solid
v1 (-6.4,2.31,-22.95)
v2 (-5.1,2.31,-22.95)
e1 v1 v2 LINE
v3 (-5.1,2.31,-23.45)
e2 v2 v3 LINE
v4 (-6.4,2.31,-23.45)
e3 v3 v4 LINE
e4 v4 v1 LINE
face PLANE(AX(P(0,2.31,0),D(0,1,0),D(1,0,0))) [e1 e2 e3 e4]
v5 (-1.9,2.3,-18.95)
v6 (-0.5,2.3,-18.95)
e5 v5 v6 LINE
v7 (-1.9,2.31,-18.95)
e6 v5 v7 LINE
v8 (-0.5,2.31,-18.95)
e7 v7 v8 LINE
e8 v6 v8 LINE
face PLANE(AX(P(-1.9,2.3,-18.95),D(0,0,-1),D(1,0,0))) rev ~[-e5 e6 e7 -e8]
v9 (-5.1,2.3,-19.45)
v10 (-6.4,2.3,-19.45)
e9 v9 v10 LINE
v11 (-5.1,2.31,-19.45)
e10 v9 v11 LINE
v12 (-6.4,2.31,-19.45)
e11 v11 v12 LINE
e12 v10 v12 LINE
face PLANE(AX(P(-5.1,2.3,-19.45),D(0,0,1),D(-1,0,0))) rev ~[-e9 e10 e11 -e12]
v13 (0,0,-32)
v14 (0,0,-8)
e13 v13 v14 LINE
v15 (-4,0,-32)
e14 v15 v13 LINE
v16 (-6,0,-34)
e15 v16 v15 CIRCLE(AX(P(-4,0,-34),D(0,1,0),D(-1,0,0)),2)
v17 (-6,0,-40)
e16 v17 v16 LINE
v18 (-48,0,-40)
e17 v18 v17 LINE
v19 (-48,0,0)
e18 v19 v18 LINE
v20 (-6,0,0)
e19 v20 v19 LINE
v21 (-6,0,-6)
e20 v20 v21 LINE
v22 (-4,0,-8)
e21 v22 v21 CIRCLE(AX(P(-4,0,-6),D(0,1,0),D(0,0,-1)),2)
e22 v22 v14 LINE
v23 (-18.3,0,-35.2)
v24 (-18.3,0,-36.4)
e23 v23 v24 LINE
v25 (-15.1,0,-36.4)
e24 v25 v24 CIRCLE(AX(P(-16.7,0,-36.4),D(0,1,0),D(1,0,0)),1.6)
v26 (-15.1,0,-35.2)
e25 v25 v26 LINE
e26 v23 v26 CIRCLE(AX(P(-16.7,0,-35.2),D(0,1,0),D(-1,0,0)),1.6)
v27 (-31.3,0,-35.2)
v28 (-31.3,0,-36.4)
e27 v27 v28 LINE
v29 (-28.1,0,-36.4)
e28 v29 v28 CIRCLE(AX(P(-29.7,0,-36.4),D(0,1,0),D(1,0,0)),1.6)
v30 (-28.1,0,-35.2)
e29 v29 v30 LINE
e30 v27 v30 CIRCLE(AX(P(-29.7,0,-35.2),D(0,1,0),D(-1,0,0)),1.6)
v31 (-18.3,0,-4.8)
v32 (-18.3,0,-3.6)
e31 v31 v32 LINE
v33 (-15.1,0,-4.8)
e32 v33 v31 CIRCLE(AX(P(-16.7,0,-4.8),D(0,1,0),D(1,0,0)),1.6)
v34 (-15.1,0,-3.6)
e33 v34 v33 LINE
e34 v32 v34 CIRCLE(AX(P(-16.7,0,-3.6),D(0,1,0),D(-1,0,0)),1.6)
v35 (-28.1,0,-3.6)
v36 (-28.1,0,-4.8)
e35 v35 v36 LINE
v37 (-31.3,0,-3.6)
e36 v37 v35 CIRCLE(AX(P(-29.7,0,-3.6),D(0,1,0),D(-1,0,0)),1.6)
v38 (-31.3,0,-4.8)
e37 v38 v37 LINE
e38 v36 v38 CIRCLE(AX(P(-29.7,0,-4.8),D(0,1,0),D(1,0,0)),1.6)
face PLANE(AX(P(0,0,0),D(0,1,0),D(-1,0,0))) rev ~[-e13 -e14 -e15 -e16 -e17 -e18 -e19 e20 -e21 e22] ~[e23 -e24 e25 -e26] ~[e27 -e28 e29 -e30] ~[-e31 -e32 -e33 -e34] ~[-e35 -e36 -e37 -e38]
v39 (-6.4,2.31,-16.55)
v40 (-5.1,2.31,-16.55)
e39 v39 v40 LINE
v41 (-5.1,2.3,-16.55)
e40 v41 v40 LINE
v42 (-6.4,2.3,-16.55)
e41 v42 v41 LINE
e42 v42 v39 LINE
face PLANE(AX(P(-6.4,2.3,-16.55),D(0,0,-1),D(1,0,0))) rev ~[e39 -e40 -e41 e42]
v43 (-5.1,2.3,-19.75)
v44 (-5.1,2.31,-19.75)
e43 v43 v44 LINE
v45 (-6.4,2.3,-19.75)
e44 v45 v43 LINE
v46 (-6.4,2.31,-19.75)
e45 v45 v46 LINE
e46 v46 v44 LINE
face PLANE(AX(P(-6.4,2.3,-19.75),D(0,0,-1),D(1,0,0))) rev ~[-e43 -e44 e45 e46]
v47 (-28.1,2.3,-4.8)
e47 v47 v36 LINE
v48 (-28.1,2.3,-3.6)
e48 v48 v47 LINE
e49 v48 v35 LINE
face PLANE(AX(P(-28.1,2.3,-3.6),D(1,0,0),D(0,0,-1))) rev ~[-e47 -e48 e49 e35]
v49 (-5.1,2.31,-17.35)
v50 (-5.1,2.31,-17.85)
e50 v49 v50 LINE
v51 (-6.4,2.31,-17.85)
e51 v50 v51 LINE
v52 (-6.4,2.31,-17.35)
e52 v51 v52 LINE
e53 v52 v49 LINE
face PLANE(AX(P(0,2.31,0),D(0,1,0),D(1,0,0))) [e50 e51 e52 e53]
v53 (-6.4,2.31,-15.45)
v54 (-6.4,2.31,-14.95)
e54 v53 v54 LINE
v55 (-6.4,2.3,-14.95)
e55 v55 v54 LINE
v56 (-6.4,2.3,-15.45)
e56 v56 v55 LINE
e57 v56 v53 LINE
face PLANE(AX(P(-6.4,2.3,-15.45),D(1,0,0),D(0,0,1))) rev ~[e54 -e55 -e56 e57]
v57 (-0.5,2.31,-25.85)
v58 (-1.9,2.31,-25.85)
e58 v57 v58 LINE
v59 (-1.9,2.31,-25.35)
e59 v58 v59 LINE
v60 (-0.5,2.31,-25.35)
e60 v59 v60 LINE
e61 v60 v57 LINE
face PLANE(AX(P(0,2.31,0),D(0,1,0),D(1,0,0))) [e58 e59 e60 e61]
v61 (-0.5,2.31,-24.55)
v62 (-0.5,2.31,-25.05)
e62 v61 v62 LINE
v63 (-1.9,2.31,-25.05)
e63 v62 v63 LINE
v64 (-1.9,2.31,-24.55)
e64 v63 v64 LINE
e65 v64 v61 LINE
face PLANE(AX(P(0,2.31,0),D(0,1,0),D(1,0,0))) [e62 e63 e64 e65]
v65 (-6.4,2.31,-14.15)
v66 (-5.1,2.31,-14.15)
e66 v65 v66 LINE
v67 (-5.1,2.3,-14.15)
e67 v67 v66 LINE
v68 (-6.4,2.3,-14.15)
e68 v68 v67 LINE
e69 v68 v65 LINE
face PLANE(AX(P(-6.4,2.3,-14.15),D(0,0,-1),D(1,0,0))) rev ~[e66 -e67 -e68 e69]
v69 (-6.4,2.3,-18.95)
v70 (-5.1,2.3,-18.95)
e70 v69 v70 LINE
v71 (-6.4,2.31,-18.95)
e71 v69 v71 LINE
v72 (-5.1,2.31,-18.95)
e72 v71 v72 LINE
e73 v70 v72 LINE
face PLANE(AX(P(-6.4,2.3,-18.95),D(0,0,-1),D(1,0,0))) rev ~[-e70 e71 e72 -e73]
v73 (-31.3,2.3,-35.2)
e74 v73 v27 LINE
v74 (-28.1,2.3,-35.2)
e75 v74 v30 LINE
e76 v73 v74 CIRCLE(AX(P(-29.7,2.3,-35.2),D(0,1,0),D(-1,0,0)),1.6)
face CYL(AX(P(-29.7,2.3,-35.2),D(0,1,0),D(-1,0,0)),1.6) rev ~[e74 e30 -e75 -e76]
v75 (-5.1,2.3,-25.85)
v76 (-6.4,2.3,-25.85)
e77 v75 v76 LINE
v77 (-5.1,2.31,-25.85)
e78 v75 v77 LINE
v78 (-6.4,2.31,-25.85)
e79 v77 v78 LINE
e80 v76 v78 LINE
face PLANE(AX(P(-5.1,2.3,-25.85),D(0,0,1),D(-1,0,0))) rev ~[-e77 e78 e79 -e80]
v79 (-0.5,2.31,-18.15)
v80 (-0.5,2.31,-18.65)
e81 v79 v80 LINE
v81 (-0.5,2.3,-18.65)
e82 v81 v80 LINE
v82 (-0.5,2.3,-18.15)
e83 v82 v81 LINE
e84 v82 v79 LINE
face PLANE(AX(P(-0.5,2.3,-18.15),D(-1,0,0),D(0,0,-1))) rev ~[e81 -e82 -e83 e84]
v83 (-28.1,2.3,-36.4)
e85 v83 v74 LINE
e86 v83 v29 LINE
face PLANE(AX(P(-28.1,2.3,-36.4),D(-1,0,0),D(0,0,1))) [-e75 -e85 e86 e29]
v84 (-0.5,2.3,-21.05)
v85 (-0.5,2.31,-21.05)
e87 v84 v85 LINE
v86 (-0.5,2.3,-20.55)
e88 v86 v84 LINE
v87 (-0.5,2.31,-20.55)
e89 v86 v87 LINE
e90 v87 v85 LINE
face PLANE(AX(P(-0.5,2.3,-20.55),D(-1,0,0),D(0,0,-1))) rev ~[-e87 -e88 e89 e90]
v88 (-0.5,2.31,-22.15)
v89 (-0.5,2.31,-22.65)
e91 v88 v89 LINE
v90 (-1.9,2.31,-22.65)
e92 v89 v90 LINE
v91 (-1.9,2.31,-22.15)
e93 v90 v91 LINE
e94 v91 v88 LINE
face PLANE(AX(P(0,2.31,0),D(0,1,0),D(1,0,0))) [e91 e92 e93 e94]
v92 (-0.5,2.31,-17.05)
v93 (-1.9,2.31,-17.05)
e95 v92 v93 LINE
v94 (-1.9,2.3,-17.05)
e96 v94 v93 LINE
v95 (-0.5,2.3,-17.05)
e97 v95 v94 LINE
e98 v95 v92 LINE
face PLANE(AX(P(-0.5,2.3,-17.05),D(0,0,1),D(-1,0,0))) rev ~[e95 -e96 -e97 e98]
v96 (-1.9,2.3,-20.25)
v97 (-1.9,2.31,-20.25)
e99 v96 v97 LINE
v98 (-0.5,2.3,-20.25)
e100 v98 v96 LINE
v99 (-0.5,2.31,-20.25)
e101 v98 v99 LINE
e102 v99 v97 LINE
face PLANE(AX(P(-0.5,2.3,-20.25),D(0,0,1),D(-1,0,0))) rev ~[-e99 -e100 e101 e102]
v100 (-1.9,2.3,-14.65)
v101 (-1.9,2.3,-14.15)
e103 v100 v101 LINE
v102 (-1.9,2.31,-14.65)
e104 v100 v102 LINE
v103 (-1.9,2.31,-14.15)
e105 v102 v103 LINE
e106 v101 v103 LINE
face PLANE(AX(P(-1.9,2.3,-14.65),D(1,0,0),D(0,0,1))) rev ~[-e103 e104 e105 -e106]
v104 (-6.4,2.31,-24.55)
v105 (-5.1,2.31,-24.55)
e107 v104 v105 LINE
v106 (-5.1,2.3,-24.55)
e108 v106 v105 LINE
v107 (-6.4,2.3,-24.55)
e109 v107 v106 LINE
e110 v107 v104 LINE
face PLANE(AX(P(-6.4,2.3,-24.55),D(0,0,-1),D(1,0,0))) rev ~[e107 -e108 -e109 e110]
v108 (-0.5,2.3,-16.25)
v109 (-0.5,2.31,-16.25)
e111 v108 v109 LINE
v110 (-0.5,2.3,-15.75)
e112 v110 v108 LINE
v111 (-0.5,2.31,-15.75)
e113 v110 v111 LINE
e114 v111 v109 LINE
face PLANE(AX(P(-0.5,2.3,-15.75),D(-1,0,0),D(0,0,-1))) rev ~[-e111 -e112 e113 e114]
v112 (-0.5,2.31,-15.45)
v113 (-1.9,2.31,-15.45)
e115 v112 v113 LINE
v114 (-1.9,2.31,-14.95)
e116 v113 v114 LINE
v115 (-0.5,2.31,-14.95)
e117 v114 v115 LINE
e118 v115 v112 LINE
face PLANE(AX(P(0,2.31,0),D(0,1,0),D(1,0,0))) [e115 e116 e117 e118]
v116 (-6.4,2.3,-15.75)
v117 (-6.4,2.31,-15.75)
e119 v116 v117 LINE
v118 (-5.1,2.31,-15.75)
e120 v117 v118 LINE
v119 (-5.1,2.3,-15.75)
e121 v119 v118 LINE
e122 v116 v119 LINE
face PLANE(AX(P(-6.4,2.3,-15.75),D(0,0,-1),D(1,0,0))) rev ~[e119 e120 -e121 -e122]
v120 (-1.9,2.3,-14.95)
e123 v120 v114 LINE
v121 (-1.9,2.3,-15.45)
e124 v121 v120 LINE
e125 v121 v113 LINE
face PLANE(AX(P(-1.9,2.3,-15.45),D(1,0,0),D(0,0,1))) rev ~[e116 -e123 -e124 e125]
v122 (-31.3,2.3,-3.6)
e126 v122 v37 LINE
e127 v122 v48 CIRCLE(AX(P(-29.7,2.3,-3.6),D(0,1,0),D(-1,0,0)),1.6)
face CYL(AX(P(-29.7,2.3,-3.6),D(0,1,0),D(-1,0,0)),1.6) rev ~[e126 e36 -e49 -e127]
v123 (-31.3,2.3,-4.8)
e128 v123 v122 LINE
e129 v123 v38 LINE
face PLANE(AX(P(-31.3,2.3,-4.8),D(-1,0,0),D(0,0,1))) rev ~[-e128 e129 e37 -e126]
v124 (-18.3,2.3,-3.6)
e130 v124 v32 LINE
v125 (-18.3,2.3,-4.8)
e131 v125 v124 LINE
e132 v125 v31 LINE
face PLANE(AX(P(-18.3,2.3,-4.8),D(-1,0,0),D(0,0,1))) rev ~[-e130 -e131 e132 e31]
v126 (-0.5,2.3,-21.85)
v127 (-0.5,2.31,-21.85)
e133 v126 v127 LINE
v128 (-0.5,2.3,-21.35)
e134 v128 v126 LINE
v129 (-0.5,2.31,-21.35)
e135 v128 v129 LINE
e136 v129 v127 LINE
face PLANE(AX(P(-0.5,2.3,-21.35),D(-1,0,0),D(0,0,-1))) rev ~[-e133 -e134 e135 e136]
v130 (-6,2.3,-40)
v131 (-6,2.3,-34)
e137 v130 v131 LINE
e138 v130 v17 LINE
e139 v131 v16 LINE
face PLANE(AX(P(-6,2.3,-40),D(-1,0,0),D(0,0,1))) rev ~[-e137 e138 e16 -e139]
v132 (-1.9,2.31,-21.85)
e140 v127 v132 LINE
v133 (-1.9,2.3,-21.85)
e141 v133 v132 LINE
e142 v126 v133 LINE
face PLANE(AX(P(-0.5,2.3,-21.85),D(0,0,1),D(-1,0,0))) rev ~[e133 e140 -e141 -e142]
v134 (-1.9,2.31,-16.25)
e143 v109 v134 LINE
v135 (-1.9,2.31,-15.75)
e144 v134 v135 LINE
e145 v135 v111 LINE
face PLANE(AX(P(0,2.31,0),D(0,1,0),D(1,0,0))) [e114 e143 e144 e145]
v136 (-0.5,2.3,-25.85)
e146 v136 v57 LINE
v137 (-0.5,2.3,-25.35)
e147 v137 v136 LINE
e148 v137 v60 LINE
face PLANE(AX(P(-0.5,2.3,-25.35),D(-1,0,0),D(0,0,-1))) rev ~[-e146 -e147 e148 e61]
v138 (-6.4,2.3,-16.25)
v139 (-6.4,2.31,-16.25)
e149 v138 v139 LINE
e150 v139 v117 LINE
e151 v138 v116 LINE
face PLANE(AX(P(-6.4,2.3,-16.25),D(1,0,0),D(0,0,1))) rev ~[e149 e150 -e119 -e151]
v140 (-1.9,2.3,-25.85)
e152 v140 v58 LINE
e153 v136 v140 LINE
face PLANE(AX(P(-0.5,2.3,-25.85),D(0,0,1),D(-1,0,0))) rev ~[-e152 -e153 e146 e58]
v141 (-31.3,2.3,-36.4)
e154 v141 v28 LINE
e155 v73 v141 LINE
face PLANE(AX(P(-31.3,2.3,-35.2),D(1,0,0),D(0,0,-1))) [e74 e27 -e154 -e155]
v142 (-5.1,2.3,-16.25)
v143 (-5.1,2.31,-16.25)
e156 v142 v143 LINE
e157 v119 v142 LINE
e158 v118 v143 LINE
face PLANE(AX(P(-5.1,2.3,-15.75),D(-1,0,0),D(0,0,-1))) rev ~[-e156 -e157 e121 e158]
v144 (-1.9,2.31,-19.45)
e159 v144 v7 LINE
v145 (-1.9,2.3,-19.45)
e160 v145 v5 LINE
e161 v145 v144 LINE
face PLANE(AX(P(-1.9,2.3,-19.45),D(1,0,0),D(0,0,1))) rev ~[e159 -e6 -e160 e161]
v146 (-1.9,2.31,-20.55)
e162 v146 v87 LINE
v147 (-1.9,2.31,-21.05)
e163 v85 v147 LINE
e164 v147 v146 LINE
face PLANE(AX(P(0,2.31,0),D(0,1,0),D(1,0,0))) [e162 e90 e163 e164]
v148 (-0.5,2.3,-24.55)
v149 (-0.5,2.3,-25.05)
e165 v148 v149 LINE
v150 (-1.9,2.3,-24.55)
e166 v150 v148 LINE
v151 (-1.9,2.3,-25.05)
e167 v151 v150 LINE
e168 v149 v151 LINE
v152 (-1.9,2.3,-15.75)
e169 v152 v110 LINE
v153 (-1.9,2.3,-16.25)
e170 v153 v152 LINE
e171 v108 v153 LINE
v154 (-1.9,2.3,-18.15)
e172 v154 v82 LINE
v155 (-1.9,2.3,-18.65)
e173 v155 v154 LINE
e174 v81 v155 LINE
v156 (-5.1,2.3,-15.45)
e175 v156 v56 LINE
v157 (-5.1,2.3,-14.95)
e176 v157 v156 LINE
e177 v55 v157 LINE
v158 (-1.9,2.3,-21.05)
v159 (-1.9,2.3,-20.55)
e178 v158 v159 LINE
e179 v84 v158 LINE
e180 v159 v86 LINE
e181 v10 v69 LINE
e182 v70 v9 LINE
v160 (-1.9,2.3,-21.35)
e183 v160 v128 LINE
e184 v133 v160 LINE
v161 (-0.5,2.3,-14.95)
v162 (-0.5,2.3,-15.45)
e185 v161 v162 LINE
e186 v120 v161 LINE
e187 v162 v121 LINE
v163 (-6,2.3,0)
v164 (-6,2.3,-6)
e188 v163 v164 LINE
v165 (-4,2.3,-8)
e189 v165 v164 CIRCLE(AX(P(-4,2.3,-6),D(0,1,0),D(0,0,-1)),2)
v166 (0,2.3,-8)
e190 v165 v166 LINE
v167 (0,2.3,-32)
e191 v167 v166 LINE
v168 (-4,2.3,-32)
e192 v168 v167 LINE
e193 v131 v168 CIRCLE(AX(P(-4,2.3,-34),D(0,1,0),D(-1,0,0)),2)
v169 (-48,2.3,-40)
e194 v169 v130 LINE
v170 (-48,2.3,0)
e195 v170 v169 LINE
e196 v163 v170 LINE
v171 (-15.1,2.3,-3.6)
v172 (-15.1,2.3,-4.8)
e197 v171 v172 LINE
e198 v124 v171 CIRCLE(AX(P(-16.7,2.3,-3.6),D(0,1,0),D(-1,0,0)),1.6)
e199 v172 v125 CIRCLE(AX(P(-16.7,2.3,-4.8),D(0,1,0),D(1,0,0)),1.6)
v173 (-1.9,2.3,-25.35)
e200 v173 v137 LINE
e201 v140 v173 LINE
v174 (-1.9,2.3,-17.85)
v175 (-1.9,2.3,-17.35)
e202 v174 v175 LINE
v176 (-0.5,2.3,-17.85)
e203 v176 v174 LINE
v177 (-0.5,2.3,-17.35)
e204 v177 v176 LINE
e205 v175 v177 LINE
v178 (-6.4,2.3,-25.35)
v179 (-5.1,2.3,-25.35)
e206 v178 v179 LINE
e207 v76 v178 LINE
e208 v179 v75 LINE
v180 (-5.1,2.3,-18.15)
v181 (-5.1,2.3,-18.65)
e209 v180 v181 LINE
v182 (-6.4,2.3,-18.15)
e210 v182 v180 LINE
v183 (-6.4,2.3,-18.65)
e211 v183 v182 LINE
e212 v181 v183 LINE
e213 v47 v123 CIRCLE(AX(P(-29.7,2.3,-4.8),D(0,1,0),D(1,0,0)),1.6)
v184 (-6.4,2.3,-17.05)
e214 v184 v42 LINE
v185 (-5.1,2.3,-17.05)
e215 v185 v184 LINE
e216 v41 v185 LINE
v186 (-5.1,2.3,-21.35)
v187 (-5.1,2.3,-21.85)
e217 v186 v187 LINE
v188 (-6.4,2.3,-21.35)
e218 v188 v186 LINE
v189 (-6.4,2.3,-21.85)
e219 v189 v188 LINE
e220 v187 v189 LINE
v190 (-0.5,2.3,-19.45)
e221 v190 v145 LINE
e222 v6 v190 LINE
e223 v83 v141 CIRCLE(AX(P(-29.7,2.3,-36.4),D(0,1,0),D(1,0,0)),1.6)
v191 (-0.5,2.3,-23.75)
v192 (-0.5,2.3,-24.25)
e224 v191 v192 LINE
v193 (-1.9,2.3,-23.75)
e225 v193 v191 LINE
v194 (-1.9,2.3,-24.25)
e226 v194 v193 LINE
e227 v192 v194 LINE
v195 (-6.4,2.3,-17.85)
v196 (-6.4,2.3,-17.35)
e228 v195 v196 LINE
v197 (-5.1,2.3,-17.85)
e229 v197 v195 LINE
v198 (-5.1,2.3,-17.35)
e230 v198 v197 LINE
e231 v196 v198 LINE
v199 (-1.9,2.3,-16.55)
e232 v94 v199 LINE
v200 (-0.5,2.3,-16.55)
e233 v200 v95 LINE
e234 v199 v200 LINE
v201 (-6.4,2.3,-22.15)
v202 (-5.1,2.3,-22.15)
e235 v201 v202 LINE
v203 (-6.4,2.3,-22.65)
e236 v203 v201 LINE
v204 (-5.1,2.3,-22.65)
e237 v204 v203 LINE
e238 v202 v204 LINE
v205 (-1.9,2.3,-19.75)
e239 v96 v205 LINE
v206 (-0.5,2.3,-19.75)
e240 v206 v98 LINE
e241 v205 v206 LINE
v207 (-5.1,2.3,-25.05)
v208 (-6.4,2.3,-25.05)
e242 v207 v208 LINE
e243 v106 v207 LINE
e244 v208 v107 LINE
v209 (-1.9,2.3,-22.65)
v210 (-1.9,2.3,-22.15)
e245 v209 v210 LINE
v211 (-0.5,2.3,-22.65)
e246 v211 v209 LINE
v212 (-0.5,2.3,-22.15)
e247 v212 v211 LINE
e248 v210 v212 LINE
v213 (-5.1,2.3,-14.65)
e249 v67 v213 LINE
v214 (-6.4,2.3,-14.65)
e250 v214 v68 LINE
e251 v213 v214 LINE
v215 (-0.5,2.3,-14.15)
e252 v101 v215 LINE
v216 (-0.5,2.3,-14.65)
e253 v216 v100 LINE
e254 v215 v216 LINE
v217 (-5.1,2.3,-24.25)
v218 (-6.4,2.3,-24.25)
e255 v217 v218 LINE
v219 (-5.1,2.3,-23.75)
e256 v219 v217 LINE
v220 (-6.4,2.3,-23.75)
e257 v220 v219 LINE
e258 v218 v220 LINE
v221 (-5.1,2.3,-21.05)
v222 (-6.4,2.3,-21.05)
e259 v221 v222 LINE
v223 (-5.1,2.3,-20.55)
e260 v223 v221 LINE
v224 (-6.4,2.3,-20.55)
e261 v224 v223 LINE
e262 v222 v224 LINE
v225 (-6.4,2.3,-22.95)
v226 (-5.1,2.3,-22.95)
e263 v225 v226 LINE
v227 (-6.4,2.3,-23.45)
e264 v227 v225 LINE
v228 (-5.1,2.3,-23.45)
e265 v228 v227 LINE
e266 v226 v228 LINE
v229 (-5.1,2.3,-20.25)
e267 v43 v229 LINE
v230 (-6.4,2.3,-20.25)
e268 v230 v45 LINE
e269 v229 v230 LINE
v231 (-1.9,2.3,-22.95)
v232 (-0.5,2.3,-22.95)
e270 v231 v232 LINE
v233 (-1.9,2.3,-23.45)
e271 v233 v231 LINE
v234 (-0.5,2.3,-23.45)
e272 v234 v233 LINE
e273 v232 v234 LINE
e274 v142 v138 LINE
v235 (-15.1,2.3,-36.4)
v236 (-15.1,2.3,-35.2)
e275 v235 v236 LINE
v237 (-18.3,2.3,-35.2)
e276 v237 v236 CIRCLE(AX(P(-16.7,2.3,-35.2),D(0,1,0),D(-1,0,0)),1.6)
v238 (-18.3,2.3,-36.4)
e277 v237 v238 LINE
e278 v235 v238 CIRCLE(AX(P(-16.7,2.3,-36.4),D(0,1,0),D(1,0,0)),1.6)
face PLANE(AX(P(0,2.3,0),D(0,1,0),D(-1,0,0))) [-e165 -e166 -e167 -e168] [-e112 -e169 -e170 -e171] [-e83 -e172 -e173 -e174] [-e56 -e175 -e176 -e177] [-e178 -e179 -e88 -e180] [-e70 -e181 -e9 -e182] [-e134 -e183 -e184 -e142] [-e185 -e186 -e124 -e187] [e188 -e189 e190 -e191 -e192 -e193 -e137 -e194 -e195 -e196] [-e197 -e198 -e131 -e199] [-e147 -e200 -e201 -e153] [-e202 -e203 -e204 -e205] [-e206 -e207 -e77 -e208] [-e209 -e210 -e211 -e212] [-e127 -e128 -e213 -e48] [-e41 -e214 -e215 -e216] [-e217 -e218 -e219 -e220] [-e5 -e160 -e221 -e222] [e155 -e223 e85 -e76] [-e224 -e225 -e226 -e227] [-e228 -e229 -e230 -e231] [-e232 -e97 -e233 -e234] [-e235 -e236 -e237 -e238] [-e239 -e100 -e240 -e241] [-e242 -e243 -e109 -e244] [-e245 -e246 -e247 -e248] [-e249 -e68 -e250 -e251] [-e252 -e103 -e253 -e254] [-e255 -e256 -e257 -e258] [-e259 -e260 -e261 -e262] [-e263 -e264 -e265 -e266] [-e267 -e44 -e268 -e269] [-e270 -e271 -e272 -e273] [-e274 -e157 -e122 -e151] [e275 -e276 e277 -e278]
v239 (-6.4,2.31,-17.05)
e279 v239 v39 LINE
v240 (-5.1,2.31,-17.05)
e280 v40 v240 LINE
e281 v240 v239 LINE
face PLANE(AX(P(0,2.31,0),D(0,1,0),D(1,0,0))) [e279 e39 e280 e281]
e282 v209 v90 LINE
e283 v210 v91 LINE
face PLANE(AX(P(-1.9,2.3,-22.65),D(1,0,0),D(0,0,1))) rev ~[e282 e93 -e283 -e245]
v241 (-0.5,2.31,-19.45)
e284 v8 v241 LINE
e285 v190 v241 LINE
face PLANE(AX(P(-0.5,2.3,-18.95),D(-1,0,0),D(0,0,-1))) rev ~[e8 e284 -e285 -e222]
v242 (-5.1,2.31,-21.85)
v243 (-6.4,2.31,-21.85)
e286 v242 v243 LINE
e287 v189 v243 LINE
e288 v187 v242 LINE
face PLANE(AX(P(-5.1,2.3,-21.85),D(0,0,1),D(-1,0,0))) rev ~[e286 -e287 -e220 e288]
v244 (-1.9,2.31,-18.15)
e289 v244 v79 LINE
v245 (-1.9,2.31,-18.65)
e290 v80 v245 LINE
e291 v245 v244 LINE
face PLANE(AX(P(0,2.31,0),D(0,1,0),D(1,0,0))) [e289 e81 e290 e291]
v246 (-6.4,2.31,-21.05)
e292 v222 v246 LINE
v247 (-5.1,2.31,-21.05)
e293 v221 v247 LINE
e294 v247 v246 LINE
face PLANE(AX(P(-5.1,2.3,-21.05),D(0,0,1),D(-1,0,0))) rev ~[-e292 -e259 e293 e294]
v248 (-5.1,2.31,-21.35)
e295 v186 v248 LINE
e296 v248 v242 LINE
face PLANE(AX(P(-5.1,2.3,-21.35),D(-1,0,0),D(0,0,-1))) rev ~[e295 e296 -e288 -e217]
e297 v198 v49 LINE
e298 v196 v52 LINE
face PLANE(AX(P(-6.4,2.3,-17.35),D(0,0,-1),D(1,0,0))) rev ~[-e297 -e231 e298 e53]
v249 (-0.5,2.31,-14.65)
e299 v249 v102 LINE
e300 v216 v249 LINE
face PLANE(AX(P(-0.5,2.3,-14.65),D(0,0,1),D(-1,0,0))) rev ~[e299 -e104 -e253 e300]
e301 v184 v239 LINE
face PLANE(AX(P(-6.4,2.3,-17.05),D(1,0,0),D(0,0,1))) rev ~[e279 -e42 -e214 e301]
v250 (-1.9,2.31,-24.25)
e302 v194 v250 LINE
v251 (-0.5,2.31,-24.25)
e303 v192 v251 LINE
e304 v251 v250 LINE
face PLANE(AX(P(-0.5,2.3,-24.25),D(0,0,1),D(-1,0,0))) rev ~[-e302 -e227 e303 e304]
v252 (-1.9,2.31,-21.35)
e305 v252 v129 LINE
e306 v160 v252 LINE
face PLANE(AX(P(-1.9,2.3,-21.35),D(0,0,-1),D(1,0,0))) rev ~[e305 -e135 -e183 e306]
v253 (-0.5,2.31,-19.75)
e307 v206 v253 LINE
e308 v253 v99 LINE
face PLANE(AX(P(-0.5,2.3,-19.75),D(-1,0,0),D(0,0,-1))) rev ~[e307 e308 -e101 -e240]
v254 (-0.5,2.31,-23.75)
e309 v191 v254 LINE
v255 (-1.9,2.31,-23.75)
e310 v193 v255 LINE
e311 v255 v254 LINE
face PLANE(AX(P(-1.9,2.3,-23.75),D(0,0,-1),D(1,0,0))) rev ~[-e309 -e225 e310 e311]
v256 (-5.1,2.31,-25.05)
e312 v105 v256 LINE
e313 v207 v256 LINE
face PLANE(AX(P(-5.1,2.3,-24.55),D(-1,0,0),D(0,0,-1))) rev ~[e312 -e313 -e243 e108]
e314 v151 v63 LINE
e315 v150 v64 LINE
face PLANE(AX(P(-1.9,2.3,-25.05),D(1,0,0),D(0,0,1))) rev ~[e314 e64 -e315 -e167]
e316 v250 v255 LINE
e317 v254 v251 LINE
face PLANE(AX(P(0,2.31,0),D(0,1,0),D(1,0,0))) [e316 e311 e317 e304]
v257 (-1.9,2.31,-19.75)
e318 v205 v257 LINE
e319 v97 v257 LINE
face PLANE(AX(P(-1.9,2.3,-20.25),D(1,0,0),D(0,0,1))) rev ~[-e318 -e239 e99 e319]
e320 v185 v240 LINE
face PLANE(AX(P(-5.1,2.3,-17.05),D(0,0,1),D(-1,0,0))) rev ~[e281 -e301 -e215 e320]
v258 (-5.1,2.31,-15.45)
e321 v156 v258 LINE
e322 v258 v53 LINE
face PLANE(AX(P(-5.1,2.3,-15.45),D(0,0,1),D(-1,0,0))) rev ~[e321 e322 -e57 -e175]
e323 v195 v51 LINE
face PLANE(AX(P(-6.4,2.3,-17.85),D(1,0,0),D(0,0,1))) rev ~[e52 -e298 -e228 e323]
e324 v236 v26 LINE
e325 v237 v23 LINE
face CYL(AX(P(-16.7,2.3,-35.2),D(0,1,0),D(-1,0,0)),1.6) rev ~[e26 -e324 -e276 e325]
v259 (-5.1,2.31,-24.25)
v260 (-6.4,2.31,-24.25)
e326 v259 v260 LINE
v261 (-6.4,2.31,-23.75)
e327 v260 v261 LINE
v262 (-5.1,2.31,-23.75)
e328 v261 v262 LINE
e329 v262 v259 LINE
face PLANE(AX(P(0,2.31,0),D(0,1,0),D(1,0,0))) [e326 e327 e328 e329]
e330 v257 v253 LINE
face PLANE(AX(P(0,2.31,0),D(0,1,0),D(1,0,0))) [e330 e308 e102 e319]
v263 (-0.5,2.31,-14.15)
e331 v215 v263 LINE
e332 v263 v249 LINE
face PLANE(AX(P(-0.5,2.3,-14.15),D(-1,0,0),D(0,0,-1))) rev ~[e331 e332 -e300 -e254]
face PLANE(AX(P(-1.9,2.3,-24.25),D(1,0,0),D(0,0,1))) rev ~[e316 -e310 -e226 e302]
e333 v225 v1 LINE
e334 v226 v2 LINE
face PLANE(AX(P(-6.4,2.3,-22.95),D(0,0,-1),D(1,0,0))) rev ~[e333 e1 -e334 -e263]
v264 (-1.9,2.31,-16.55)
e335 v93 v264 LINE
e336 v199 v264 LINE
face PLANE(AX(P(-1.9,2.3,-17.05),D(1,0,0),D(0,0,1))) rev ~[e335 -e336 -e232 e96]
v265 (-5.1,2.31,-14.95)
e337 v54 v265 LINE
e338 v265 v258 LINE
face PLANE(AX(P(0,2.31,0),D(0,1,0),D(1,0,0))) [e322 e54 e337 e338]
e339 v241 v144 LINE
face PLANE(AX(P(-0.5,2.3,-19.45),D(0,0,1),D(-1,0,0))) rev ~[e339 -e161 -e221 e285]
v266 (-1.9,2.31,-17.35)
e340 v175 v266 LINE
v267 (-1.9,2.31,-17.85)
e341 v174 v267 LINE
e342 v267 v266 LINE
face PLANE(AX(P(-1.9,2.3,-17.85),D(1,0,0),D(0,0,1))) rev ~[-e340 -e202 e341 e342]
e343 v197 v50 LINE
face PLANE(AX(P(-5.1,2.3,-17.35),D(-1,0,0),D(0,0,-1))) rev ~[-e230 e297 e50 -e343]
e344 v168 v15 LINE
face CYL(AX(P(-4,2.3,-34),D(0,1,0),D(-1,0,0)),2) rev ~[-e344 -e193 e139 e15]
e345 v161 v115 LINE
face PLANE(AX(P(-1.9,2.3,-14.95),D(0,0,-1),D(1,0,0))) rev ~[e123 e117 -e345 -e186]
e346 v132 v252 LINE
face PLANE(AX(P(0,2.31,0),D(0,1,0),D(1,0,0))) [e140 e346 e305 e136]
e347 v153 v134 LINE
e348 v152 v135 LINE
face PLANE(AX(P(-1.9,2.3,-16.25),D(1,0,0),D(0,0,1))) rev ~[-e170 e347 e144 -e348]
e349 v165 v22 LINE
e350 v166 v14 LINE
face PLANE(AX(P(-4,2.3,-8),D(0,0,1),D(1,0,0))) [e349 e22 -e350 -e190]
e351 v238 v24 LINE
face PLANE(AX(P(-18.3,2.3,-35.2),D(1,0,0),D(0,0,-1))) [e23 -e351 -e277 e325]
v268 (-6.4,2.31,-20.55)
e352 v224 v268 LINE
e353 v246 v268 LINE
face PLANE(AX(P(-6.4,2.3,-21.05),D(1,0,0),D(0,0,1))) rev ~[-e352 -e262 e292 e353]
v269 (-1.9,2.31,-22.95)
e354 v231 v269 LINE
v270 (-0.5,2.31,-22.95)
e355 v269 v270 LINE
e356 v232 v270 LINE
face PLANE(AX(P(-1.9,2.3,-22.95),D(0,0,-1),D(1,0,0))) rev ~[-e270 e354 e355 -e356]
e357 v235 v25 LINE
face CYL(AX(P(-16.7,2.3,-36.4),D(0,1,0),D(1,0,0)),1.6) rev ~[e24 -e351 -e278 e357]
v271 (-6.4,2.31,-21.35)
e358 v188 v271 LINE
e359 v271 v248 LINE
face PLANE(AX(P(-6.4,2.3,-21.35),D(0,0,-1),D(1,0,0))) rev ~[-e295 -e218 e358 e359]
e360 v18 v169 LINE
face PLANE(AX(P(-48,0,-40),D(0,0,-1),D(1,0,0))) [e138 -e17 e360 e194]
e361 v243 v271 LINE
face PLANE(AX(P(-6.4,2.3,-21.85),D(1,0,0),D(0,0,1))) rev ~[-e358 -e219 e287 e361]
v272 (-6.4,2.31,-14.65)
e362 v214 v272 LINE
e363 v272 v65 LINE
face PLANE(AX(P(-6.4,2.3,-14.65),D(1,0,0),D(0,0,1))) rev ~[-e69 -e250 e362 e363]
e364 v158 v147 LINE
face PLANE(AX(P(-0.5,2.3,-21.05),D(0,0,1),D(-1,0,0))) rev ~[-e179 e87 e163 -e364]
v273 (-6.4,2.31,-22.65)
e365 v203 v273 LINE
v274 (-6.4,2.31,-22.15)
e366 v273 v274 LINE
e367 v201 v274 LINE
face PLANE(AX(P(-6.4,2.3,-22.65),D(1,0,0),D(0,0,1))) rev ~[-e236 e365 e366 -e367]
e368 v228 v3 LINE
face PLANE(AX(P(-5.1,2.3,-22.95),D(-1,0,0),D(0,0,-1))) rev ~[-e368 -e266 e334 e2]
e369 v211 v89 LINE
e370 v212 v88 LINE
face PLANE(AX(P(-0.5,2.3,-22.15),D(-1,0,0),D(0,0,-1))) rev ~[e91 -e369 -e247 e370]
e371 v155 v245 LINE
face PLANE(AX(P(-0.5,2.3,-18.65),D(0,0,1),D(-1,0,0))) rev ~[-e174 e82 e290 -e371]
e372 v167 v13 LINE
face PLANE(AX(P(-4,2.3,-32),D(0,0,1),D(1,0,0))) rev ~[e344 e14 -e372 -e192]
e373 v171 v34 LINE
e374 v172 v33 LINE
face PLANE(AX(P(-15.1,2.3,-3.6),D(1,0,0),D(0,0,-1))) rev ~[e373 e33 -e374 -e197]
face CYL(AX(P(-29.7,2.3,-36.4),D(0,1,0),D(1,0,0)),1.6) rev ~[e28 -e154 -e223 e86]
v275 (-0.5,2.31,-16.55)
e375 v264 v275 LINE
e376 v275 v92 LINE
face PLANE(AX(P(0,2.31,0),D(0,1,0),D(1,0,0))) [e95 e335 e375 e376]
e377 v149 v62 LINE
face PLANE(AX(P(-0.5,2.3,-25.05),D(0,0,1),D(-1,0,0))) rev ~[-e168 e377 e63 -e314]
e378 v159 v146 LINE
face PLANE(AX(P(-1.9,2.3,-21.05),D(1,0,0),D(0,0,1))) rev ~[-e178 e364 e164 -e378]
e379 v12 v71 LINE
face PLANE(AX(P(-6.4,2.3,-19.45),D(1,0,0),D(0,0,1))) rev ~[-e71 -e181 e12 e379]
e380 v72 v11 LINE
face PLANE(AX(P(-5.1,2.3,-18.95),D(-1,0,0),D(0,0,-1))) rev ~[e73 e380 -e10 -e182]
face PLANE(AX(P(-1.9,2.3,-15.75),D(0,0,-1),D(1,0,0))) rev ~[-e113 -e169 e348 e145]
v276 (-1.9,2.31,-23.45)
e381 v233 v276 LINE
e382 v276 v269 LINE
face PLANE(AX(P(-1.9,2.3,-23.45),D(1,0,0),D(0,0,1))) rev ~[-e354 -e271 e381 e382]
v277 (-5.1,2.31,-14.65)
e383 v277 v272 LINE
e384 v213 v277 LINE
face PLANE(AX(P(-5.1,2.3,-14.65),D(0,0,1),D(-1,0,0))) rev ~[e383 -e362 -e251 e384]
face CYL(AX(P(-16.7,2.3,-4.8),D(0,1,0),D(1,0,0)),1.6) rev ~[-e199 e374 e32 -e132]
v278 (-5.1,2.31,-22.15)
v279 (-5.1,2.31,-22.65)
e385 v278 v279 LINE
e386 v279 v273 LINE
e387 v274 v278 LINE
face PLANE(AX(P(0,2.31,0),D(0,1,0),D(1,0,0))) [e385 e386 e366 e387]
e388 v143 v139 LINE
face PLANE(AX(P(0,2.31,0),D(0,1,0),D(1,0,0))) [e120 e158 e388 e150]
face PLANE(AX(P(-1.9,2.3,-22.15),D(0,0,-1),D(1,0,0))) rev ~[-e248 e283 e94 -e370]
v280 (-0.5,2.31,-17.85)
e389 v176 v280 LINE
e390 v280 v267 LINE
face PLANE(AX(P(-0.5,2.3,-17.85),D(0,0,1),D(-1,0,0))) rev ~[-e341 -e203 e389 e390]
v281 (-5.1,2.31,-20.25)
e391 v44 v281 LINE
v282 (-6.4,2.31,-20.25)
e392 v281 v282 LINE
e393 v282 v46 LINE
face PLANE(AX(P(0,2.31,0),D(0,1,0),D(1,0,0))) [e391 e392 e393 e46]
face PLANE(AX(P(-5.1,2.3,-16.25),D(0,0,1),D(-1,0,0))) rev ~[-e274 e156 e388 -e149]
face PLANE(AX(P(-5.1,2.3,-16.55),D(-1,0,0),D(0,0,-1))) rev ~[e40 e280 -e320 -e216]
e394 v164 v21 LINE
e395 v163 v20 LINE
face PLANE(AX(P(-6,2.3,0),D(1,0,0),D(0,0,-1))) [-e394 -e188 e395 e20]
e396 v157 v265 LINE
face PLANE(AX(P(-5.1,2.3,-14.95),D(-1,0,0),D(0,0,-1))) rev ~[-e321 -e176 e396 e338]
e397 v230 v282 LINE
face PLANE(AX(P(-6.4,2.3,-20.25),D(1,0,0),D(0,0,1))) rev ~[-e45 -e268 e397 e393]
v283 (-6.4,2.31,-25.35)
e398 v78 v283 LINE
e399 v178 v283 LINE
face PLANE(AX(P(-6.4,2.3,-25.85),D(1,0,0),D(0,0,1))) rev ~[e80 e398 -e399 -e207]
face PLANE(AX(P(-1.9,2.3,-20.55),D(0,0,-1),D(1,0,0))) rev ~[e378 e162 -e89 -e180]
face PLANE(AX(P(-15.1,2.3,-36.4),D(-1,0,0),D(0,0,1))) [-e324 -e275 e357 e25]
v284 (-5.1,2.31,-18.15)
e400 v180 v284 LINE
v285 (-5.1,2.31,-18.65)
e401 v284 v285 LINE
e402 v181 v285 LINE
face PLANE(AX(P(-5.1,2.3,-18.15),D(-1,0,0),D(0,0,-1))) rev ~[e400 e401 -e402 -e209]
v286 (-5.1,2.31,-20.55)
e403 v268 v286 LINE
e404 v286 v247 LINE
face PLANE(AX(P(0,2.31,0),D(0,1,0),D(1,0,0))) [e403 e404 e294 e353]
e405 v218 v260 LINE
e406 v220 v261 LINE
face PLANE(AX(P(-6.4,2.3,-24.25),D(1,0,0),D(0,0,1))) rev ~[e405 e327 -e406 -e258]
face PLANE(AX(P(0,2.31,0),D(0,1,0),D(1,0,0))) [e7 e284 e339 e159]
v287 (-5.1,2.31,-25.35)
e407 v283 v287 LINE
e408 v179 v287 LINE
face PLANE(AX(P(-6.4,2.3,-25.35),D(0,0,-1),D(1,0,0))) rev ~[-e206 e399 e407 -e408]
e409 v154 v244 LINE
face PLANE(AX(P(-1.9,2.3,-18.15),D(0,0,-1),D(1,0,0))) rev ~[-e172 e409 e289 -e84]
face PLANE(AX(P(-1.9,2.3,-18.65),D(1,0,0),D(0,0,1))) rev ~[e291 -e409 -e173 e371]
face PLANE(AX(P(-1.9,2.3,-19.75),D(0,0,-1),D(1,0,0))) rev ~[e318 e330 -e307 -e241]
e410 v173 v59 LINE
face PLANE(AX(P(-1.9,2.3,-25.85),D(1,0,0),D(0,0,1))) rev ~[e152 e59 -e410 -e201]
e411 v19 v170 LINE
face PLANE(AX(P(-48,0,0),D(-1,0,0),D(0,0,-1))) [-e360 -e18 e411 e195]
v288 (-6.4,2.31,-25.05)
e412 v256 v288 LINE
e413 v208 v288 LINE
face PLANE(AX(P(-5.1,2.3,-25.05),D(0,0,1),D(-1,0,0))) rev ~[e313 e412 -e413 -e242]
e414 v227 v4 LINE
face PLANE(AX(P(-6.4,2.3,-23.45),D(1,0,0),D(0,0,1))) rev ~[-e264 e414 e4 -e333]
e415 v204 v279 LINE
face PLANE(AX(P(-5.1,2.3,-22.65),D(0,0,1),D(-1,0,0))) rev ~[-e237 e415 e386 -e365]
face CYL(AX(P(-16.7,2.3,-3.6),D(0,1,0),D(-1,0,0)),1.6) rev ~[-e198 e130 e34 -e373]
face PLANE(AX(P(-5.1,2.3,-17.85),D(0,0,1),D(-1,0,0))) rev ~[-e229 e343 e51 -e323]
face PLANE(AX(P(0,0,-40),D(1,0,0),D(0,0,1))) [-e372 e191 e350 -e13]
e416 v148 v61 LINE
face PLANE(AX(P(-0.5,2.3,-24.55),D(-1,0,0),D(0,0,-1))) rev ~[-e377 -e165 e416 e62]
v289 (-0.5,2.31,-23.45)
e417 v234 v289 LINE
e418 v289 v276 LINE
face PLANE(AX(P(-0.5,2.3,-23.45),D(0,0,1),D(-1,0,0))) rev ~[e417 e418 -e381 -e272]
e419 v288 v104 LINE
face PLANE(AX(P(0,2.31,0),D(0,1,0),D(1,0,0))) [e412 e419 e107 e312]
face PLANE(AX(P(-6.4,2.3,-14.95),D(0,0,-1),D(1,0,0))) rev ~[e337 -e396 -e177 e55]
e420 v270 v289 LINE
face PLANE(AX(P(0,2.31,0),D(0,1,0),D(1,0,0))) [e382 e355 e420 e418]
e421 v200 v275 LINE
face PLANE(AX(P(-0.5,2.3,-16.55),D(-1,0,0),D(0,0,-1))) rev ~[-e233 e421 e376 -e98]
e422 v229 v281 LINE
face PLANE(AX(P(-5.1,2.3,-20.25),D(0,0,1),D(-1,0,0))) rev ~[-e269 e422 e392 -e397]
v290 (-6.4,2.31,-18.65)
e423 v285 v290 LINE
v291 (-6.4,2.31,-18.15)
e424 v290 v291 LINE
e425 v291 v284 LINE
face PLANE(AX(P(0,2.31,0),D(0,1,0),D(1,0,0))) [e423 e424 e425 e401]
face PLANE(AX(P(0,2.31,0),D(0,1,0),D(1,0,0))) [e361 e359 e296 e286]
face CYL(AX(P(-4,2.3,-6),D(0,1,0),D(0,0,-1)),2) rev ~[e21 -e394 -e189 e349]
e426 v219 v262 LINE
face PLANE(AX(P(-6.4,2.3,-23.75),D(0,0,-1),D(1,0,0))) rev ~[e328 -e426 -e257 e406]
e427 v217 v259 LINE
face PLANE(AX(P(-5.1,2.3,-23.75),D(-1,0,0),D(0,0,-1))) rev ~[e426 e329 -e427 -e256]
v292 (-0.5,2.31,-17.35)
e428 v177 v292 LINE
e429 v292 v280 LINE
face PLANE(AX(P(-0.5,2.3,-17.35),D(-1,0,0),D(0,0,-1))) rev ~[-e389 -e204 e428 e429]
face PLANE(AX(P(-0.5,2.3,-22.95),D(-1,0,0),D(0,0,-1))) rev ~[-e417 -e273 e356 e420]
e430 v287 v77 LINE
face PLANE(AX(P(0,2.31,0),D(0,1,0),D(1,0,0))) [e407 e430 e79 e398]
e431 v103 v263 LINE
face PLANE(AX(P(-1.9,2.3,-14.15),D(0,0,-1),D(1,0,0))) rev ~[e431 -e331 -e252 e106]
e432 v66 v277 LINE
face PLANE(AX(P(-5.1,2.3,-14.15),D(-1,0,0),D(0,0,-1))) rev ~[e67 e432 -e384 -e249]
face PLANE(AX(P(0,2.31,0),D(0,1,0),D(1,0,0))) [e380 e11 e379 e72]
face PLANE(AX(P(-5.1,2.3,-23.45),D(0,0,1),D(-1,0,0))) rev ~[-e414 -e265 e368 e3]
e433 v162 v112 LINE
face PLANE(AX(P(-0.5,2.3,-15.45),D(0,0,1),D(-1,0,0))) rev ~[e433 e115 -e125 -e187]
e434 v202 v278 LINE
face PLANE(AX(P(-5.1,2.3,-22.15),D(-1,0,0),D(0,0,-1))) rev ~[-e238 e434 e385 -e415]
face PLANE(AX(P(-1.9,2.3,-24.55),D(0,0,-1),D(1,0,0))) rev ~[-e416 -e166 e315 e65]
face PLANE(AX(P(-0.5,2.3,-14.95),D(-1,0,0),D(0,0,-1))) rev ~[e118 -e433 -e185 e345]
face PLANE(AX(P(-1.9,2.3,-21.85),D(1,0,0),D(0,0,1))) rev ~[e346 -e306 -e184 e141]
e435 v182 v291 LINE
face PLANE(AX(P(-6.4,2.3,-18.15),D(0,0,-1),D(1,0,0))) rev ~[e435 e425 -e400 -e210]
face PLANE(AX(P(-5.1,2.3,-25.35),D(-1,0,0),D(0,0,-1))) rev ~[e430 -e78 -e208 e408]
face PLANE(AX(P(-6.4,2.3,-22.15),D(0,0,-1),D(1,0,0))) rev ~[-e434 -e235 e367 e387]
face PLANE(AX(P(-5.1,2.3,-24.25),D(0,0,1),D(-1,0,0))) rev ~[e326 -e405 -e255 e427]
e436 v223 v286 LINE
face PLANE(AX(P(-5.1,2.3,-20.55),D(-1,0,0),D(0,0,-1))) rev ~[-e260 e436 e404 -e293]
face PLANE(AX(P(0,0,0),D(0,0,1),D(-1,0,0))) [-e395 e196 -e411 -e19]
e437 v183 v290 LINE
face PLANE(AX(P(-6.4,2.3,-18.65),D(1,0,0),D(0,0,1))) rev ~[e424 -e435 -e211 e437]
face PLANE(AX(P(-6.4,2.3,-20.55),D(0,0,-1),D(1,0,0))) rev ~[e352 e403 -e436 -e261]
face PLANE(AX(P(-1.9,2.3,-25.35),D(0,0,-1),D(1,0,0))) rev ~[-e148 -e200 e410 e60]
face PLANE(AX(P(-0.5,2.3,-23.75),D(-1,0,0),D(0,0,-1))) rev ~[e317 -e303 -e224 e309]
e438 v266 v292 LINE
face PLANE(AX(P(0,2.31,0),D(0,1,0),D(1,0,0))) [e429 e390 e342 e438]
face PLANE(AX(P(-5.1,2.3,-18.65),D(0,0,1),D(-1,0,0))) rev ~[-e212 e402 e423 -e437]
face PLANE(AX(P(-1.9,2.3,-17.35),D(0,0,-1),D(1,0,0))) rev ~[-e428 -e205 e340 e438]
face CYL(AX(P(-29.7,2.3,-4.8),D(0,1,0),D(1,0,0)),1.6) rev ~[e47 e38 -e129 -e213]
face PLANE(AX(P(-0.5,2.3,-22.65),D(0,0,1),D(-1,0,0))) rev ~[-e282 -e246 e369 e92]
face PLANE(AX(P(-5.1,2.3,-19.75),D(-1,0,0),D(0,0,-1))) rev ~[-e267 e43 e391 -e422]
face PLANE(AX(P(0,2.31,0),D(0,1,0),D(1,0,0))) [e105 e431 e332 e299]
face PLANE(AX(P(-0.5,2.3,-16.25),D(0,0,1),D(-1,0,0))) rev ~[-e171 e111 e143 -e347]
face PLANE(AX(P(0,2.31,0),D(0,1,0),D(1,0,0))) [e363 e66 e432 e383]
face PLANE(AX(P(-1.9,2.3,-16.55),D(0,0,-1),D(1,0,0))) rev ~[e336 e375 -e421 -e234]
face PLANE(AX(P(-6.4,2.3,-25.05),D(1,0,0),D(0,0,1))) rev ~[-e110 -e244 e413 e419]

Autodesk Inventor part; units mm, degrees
ref_plane "YZ Plane" through (0, 0, 0) normal (1, 0, 0) x (0, 1, 0)
ref_plane "XZ Plane" through (0, 0, 0) normal (0, 1, 0) x (-1, 0, 0)
ref_plane "XY Plane" through (0, 0, 0) normal (0, 0, 1) x (1, 0, 0)
sketch "Sketch1" plane through (0, 0, 0) normal (0, 1, 0) x (-1, 0, 0)
  line L0 (0, 0) -> (48, 0)
  line L1 (48, 0) -> (48, -40)
  line L2 (48, -40) -> (0, -40)
  line L3 (0, -40) -> (0, 0)
  dimension "d0" = 48
  dimension "d1" = 40
extrude "Extrusion1" add sketch "Sketch1" along normal blind 2.3
sketch "Sketch2" plane through (0, 2.3, 0) normal (0, 1, 0) x (1, 0, 0)
  line L0 (-50.9993, 20) -> (5.4412, 20) construction
  line L1 (-50.9993, 4.2) -> (11.1887, 4.2) construction
  line L2 (-50.9993, 35.8) -> (7.0505, 35.8) construction
  line L3 (-48, 40) -> (-48, 0) construction
  line L4 (-29.7, 3.6) -> (-29.7, 4.8) construction
  line L5 (-28.1, 3.6) -> (-28.1, 4.8)
  line L6 (-31.3, 4.8) -> (-31.3, 3.6)
  arc A0 (-31.3, 3.6) -> (-28.1, 3.6) centre (-29.7, 3.6) ccw
  arc A1 (-28.1, 4.8) -> (-31.3, 4.8) centre (-29.7, 4.8) ccw
  line L7 (-33.7213, 4.2) -> (28.4668, 4.2) construction
  line L8 (-16.7, 3.6) -> (-16.7, 4.8) construction
  line L9 (-15.1, 3.6) -> (-15.1, 4.8)
  line L10 (-18.3, 4.8) -> (-18.3, 3.6)
  arc A2 (-18.3, 3.6) -> (-15.1, 3.6) centre (-16.7, 3.6) ccw
  arc A3 (-15.1, 4.8) -> (-18.3, 4.8) centre (-16.7, 4.8) ccw
  line L11 (0, 0) -> (0, 40) projected
  line L12 (-29.7, 35.2) -> (-29.7, 36.4) construction
  line L13 (-31.3, 35.2) -> (-31.3, 36.4)
  line L14 (-28.1, 36.4) -> (-28.1, 35.2)
  arc A4 (-31.3, 35.2) -> (-28.1, 35.2) centre (-29.7, 35.2) ccw
  arc A5 (-28.1, 36.4) -> (-31.3, 36.4) centre (-29.7, 36.4) ccw
  line L15 (-16.7, 35.2) -> (-16.7, 36.4) construction
  line L16 (-18.3, 35.2) -> (-18.3, 36.4)
  line L17 (-15.1, 36.4) -> (-15.1, 35.2)
  arc A6 (-18.3, 35.2) -> (-15.1, 35.2) centre (-16.7, 35.2) ccw
  arc A7 (-15.1, 36.4) -> (-18.3, 36.4) centre (-16.7, 36.4) ccw
  point P0 (-48, 20)
  point P1 (-29.7, 4.2)
  point P2 (-16.7, 4.2)
  point P3 (-29.7, 35.8)
  point P4 (-16.7, 35.8)
  dimension "d4" = 31.6
  dimension "d5" = 3.2
  dimension "d6" = 1.2
  dimension "d7" = 3.2
  dimension "d8" = 1.2
  dimension "d9" = 16.7
  dimension "d10" = 29.7
extrude "Extrusion2" cut sketch "Sketch2" against normal through all
sketch "Sketch3" plane through (0, 2.3, 0) normal (0, 1, 0) x (1, 0, 0)
  arc A0 (-31.3, 35.2) -> (-28.1, 35.2) centre (-29.7, 35.2) ccw construction
  line L0 (-31.3, 35.2) -> (-31.3, 36.4) construction
  arc A1 (-28.1, 36.4) -> (-31.3, 36.4) centre (-29.7, 36.4) ccw construction
  line L1 (-28.1, 36.4) -> (-28.1, 35.2) construction
  line L2 (-15.1, 4.8) -> (-15.1, 3.6) construction
  arc A2 (-18.3, 3.6) -> (-15.1, 3.6) centre (-16.7, 3.6) ccw construction
  line L3 (-18.3, 3.6) -> (-18.3, 4.8) construction
  arc A3 (-15.1, 4.8) -> (-18.3, 4.8) centre (-16.7, 4.8) ccw construction
  line L4 (-15.1, 36.4) -> (-15.1, 35.2) construction
  arc A4 (-18.3, 35.2) -> (-15.1, 35.2) centre (-16.7, 35.2) ccw construction
  line L5 (-18.3, 35.2) -> (-18.3, 36.4) construction
  arc A5 (-15.1, 36.4) -> (-18.3, 36.4) centre (-16.7, 36.4) ccw construction
  line L6 (-31.3, 3.6) -> (-31.3, 4.8) construction
  arc A6 (-28.1, 4.8) -> (-31.3, 4.8) centre (-29.7, 4.8) ccw construction
  line L7 (-28.1, 4.8) -> (-28.1, 3.6) construction
  arc A7 (-31.3, 3.6) -> (-28.1, 3.6) centre (-29.7, 3.6) ccw construction
  line L8 (0, 0) -> (0, 40) construction
  line L9 (0, 40) -> (-48, 40) construction
  line L10 (-48, 40) -> (-48, 0) construction
  line L11 (-48, 0) -> (0, 0) construction
  line L12 (-0.5, -4.3742) -> (-0.5, 50.5) construction
  line L13 (-1.9, -4.3742) -> (-1.9, 45.3415) construction
  line L14 (1.3314, 20) -> (-14.5, 20) construction
  line L15 (-1.9, 19.75) -> (-0.5, 19.75)
  line L16 (-0.5, 19.75) -> (-0.5, 20.25)
  line L17 (-0.5, 20.25) -> (-1.9, 20.25)
  line L18 (-1.9, 20.25) -> (-1.9, 19.75)
  line L19 (-6.4, 19.75) -> (-5.1, 19.75)
  line L20 (-5.1, 19.75) -> (-5.1, 20.25)
  line L21 (-5.1, 20.25) -> (-6.4, 20.25)
  line L22 (-6.4, 20.25) -> (-6.4, 19.75)
  line L23 (-6.4, 21.05) -> (-6.4, 20.55)
  line L24 (-5.1, 20.55) -> (-5.1, 21.05)
  line L25 (-5.1, 21.05) -> (-6.4, 21.05)
  line L26 (-6.4, 20.55) -> (-5.1, 20.55)
  line L27 (-1.9, 21.05) -> (-1.9, 20.55)
  line L28 (-0.5, 20.55) -> (-0.5, 21.05)
  line L29 (-1.9, 20.55) -> (-0.5, 20.55)
  line L30 (-0.5, 21.05) -> (-1.9, 21.05)
  line L31 (-6.4, 21.85) -> (-6.4, 21.35)
  line L32 (-5.1, 21.35) -> (-5.1, 21.85)
  line L33 (-5.1, 21.85) -> (-6.4, 21.85)
  line L34 (-6.4, 21.35) -> (-5.1, 21.35)
  line L35 (-1.9, 21.85) -> (-1.9, 21.35)
  line L36 (-0.5, 21.35) -> (-0.5, 21.85)
  line L37 (-1.9, 21.35) -> (-0.5, 21.35)
  line L38 (-0.5, 21.85) -> (-1.9, 21.85)
  line L39 (-6.4, 22.65) -> (-6.4, 22.15)
  line L40 (-5.1, 22.15) -> (-5.1, 22.65)
  line L41 (-5.1, 22.65) -> (-6.4, 22.65)
  line L42 (-6.4, 22.15) -> (-5.1, 22.15)
  line L43 (-1.9, 22.65) -> (-1.9, 22.15)
  line L44 (-0.5, 22.15) -> (-0.5, 22.65)
  line L45 (-1.9, 22.15) -> (-0.5, 22.15)
  line L46 (-0.5, 22.65) -> (-1.9, 22.65)
  line L47 (-6.4, 23.45) -> (-6.4, 22.95)
  line L48 (-5.1, 22.95) -> (-5.1, 23.45)
  line L49 (-5.1, 23.45) -> (-6.4, 23.45)
  line L50 (-6.4, 22.95) -> (-5.1, 22.95)
  line L51 (-1.9, 23.45) -> (-1.9, 22.95)
  line L52 (-0.5, 22.95) -> (-0.5, 23.45)
  line L53 (-1.9, 22.95) -> (-0.5, 22.95)
  line L54 (-0.5, 23.45) -> (-1.9, 23.45)
  line L55 (-6.4, 24.25) -> (-6.4, 23.75)
  line L56 (-5.1, 23.75) -> (-5.1, 24.25)
  line L57 (-5.1, 24.25) -> (-6.4, 24.25)
  line L58 (-6.4, 23.75) -> (-5.1, 23.75)
  line L59 (-1.9, 24.25) -> (-1.9, 23.75)
  line L60 (-0.5, 23.75) -> (-0.5, 24.25)
  line L61 (-1.9, 23.75) -> (-0.5, 23.75)
  line L62 (-0.5, 24.25) -> (-1.9, 24.25)
  line L63 (-6.4, 25.05) -> (-6.4, 24.55)
  line L64 (-5.1, 24.55) -> (-5.1, 25.05)
  line L65 (-5.1, 25.05) -> (-6.4, 25.05)
  line L66 (-6.4, 24.55) -> (-5.1, 24.55)
  line L67 (-1.9, 25.05) -> (-1.9, 24.55)
  line L68 (-0.5, 24.55) -> (-0.5, 25.05)
  line L69 (-1.9, 24.55) -> (-0.5, 24.55)
  line L70 (-0.5, 25.05) -> (-1.9, 25.05)
  line L71 (-6.4, 25.85) -> (-6.4, 25.35)
  line L72 (-5.1, 25.35) -> (-5.1, 25.85)
  line L73 (-5.1, 25.85) -> (-6.4, 25.85)
  line L74 (-6.4, 25.35) -> (-5.1, 25.35)
  line L75 (-1.9, 25.85) -> (-1.9, 25.35)
  line L76 (-0.5, 25.35) -> (-0.5, 25.85)
  line L77 (-1.9, 25.35) -> (-0.5, 25.35)
  line L78 (-0.5, 25.85) -> (-1.9, 25.85)
  line L79 (-0.5, 19.45) -> (-1.9, 19.45)
  line L80 (-1.9, 18.95) -> (-0.5, 18.95)
  line L81 (-1.9, 19.45) -> (-1.9, 18.95)
  line L82 (-0.5, 18.95) -> (-0.5, 19.45)
  line L83 (-5.1, 19.45) -> (-6.4, 19.45)
  line L84 (-6.4, 18.95) -> (-5.1, 18.95)
  line L85 (-5.1, 18.95) -> (-5.1, 19.45)
  line L86 (-6.4, 19.45) -> (-6.4, 18.95)
  line L87 (-0.5, 18.65) -> (-1.9, 18.65)
  line L88 (-1.9, 18.15) -> (-0.5, 18.15)
  line L89 (-1.9, 18.65) -> (-1.9, 18.15)
  line L90 (-0.5, 18.15) -> (-0.5, 18.65)
  line L91 (-5.1, 18.65) -> (-6.4, 18.65)
  line L92 (-6.4, 18.15) -> (-5.1, 18.15)
  line L93 (-5.1, 18.15) -> (-5.1, 18.65)
  line L94 (-6.4, 18.65) -> (-6.4, 18.15)
  line L95 (-0.5, 17.85) -> (-1.9, 17.85)
  line L96 (-1.9, 17.35) -> (-0.5, 17.35)
  line L97 (-1.9, 17.85) -> (-1.9, 17.35)
  line L98 (-0.5, 17.35) -> (-0.5, 17.85)
  line L99 (-5.1, 17.85) -> (-6.4, 17.85)
  line L100 (-6.4, 17.35) -> (-5.1, 17.35)
  line L101 (-5.1, 17.35) -> (-5.1, 17.85)
  line L102 (-6.4, 17.85) -> (-6.4, 17.35)
  line L103 (-0.5, 17.05) -> (-1.9, 17.05)
  line L104 (-1.9, 16.55) -> (-0.5, 16.55)
  line L105 (-1.9, 17.05) -> (-1.9, 16.55)
  line L106 (-0.5, 16.55) -> (-0.5, 17.05)
  line L107 (-5.1, 17.05) -> (-6.4, 17.05)
  line L108 (-6.4, 16.55) -> (-5.1, 16.55)
  line L109 (-5.1, 16.55) -> (-5.1, 17.05)
  line L110 (-6.4, 17.05) -> (-6.4, 16.55)
  line L111 (-0.5, 16.25) -> (-1.9, 16.25)
  line L112 (-1.9, 15.75) -> (-0.5, 15.75)
  line L113 (-1.9, 16.25) -> (-1.9, 15.75)
  line L114 (-0.5, 15.75) -> (-0.5, 16.25)
  line L115 (-5.1, 16.25) -> (-6.4, 16.25)
  line L116 (-6.4, 15.75) -> (-5.1, 15.75)
  line L117 (-5.1, 15.75) -> (-5.1, 16.25)
  line L118 (-6.4, 16.25) -> (-6.4, 15.75)
  line L119 (-0.5, 15.45) -> (-1.9, 15.45)
  line L120 (-1.9, 14.95) -> (-0.5, 14.95)
  line L121 (-1.9, 15.45) -> (-1.9, 14.95)
  line L122 (-0.5, 14.95) -> (-0.5, 15.45)
  line L123 (-5.1, 15.45) -> (-6.4, 15.45)
  line L124 (-6.4, 14.95) -> (-5.1, 14.95)
  line L125 (-5.1, 14.95) -> (-5.1, 15.45)
  line L126 (-6.4, 15.45) -> (-6.4, 14.95)
  line L127 (-0.5, 14.65) -> (-1.9, 14.65)
  line L128 (-1.9, 14.15) -> (-0.5, 14.15)
  line L129 (-1.9, 14.65) -> (-1.9, 14.15)
  line L130 (-0.5, 14.15) -> (-0.5, 14.65)
  line L131 (-5.1, 14.65) -> (-6.4, 14.65)
  line L132 (-6.4, 14.15) -> (-5.1, 14.15)
  line L133 (-5.1, 14.15) -> (-5.1, 14.65)
  line L134 (-6.4, 14.65) -> (-6.4, 14.15)
  point P0 (0, 20)
  point P1 (-1.9, 20)
  point P2 (-6.4, 20)
  point P3 (-6.4, 20.8)
  point P4 (-1.9, 20.8)
  point P5 (0, 20.8)
  point P6 (-6.4, 21.6)
  point P7 (-1.9, 21.6)
  point P8 (0, 21.6)
  point P9 (-6.4, 22.4)
  point P10 (-1.9, 22.4)
  point P11 (0, 22.4)
  point P12 (-6.4, 23.2)
  point P13 (-1.9, 23.2)
  point P14 (0, 23.2)
  point P15 (-6.4, 24)
  point P16 (-1.9, 24)
  point P17 (0, 24)
  point P18 (-6.4, 24.8)
  point P19 (-1.9, 24.8)
  point P20 (0, 24.8)
  point P21 (-6.4, 25.6)
  point P22 (-1.9, 25.6)
  point P23 (0, 25.6)
  point P24 (-1.9, 19.2)
  point P25 (-6.4, 19.2)
  point P26 (-1.9, 18.4)
  point P27 (-6.4, 18.4)
  point P28 (-1.9, 17.6)
  point P29 (-6.4, 17.6)
  point P30 (-1.9, 16.8)
  point P31 (-6.4, 16.8)
  point P32 (-1.9, 16)
  point P33 (-6.4, 16)
  point P34 (-1.9, 15.2)
  point P35 (-6.4, 15.2)
  point P36 (-1.9, 14.4)
  point P37 (-6.4, 14.4)
  dimension "d13" = 0.5
  dimension "d14" = 1.4
  dimension "d15" = 0.5
  dimension "d16" = 1.3
  dimension "d17" = 0.5
  dimension "d18" = 6.4
  dimension "d21" = 0.8
  dimension "d28" = 0.8
extrude "Extrusion3" add sketch "Sketch3" along normal blind 0.01
ref_plane "Work Plane1" through (-48, 2.3, -20) normal (0, 0, 1) x (1, 0, 0)
sketch "Sketch4" plane through (0, 2.3, 0) normal (0, 1, 0) x (1, 0, 0)
  line L0 (0, 0) -> (0, 40) projected
  line L1 (0, 40) -> (-6, 40)
  line L2 (-6, 40) -> (-6, 34)
  line L3 (-4, 32) -> (0, 32)
  line L4 (0, 32) -> (0, 40)
  arc A0 (-6, 34) -> (-4, 32) centre (-4, 34) ccw
  line L5 (4.4733, 20) -> (-53.814, 20) construction
  line L6 (0, 0) -> (-6, 0)
  line L7 (-6, 0) -> (-6, 6)
  line L8 (-4, 8) -> (0, 8)
  line L9 (0, 8) -> (0, 0)
  arc A1 (-4, 8) -> (-6, 6) centre (-4, 6) ccw
  point P0 (-6, 32)
  point P1 (0, 20)
  point P2 (-6, 8)
  dimension "d35" = 6
  dimension "d36" = 8
  dimension "d37" = 2
extrude "Extrusion4" cut sketch "Sketch4" against normal through all
properties part number "Extension PCB"
